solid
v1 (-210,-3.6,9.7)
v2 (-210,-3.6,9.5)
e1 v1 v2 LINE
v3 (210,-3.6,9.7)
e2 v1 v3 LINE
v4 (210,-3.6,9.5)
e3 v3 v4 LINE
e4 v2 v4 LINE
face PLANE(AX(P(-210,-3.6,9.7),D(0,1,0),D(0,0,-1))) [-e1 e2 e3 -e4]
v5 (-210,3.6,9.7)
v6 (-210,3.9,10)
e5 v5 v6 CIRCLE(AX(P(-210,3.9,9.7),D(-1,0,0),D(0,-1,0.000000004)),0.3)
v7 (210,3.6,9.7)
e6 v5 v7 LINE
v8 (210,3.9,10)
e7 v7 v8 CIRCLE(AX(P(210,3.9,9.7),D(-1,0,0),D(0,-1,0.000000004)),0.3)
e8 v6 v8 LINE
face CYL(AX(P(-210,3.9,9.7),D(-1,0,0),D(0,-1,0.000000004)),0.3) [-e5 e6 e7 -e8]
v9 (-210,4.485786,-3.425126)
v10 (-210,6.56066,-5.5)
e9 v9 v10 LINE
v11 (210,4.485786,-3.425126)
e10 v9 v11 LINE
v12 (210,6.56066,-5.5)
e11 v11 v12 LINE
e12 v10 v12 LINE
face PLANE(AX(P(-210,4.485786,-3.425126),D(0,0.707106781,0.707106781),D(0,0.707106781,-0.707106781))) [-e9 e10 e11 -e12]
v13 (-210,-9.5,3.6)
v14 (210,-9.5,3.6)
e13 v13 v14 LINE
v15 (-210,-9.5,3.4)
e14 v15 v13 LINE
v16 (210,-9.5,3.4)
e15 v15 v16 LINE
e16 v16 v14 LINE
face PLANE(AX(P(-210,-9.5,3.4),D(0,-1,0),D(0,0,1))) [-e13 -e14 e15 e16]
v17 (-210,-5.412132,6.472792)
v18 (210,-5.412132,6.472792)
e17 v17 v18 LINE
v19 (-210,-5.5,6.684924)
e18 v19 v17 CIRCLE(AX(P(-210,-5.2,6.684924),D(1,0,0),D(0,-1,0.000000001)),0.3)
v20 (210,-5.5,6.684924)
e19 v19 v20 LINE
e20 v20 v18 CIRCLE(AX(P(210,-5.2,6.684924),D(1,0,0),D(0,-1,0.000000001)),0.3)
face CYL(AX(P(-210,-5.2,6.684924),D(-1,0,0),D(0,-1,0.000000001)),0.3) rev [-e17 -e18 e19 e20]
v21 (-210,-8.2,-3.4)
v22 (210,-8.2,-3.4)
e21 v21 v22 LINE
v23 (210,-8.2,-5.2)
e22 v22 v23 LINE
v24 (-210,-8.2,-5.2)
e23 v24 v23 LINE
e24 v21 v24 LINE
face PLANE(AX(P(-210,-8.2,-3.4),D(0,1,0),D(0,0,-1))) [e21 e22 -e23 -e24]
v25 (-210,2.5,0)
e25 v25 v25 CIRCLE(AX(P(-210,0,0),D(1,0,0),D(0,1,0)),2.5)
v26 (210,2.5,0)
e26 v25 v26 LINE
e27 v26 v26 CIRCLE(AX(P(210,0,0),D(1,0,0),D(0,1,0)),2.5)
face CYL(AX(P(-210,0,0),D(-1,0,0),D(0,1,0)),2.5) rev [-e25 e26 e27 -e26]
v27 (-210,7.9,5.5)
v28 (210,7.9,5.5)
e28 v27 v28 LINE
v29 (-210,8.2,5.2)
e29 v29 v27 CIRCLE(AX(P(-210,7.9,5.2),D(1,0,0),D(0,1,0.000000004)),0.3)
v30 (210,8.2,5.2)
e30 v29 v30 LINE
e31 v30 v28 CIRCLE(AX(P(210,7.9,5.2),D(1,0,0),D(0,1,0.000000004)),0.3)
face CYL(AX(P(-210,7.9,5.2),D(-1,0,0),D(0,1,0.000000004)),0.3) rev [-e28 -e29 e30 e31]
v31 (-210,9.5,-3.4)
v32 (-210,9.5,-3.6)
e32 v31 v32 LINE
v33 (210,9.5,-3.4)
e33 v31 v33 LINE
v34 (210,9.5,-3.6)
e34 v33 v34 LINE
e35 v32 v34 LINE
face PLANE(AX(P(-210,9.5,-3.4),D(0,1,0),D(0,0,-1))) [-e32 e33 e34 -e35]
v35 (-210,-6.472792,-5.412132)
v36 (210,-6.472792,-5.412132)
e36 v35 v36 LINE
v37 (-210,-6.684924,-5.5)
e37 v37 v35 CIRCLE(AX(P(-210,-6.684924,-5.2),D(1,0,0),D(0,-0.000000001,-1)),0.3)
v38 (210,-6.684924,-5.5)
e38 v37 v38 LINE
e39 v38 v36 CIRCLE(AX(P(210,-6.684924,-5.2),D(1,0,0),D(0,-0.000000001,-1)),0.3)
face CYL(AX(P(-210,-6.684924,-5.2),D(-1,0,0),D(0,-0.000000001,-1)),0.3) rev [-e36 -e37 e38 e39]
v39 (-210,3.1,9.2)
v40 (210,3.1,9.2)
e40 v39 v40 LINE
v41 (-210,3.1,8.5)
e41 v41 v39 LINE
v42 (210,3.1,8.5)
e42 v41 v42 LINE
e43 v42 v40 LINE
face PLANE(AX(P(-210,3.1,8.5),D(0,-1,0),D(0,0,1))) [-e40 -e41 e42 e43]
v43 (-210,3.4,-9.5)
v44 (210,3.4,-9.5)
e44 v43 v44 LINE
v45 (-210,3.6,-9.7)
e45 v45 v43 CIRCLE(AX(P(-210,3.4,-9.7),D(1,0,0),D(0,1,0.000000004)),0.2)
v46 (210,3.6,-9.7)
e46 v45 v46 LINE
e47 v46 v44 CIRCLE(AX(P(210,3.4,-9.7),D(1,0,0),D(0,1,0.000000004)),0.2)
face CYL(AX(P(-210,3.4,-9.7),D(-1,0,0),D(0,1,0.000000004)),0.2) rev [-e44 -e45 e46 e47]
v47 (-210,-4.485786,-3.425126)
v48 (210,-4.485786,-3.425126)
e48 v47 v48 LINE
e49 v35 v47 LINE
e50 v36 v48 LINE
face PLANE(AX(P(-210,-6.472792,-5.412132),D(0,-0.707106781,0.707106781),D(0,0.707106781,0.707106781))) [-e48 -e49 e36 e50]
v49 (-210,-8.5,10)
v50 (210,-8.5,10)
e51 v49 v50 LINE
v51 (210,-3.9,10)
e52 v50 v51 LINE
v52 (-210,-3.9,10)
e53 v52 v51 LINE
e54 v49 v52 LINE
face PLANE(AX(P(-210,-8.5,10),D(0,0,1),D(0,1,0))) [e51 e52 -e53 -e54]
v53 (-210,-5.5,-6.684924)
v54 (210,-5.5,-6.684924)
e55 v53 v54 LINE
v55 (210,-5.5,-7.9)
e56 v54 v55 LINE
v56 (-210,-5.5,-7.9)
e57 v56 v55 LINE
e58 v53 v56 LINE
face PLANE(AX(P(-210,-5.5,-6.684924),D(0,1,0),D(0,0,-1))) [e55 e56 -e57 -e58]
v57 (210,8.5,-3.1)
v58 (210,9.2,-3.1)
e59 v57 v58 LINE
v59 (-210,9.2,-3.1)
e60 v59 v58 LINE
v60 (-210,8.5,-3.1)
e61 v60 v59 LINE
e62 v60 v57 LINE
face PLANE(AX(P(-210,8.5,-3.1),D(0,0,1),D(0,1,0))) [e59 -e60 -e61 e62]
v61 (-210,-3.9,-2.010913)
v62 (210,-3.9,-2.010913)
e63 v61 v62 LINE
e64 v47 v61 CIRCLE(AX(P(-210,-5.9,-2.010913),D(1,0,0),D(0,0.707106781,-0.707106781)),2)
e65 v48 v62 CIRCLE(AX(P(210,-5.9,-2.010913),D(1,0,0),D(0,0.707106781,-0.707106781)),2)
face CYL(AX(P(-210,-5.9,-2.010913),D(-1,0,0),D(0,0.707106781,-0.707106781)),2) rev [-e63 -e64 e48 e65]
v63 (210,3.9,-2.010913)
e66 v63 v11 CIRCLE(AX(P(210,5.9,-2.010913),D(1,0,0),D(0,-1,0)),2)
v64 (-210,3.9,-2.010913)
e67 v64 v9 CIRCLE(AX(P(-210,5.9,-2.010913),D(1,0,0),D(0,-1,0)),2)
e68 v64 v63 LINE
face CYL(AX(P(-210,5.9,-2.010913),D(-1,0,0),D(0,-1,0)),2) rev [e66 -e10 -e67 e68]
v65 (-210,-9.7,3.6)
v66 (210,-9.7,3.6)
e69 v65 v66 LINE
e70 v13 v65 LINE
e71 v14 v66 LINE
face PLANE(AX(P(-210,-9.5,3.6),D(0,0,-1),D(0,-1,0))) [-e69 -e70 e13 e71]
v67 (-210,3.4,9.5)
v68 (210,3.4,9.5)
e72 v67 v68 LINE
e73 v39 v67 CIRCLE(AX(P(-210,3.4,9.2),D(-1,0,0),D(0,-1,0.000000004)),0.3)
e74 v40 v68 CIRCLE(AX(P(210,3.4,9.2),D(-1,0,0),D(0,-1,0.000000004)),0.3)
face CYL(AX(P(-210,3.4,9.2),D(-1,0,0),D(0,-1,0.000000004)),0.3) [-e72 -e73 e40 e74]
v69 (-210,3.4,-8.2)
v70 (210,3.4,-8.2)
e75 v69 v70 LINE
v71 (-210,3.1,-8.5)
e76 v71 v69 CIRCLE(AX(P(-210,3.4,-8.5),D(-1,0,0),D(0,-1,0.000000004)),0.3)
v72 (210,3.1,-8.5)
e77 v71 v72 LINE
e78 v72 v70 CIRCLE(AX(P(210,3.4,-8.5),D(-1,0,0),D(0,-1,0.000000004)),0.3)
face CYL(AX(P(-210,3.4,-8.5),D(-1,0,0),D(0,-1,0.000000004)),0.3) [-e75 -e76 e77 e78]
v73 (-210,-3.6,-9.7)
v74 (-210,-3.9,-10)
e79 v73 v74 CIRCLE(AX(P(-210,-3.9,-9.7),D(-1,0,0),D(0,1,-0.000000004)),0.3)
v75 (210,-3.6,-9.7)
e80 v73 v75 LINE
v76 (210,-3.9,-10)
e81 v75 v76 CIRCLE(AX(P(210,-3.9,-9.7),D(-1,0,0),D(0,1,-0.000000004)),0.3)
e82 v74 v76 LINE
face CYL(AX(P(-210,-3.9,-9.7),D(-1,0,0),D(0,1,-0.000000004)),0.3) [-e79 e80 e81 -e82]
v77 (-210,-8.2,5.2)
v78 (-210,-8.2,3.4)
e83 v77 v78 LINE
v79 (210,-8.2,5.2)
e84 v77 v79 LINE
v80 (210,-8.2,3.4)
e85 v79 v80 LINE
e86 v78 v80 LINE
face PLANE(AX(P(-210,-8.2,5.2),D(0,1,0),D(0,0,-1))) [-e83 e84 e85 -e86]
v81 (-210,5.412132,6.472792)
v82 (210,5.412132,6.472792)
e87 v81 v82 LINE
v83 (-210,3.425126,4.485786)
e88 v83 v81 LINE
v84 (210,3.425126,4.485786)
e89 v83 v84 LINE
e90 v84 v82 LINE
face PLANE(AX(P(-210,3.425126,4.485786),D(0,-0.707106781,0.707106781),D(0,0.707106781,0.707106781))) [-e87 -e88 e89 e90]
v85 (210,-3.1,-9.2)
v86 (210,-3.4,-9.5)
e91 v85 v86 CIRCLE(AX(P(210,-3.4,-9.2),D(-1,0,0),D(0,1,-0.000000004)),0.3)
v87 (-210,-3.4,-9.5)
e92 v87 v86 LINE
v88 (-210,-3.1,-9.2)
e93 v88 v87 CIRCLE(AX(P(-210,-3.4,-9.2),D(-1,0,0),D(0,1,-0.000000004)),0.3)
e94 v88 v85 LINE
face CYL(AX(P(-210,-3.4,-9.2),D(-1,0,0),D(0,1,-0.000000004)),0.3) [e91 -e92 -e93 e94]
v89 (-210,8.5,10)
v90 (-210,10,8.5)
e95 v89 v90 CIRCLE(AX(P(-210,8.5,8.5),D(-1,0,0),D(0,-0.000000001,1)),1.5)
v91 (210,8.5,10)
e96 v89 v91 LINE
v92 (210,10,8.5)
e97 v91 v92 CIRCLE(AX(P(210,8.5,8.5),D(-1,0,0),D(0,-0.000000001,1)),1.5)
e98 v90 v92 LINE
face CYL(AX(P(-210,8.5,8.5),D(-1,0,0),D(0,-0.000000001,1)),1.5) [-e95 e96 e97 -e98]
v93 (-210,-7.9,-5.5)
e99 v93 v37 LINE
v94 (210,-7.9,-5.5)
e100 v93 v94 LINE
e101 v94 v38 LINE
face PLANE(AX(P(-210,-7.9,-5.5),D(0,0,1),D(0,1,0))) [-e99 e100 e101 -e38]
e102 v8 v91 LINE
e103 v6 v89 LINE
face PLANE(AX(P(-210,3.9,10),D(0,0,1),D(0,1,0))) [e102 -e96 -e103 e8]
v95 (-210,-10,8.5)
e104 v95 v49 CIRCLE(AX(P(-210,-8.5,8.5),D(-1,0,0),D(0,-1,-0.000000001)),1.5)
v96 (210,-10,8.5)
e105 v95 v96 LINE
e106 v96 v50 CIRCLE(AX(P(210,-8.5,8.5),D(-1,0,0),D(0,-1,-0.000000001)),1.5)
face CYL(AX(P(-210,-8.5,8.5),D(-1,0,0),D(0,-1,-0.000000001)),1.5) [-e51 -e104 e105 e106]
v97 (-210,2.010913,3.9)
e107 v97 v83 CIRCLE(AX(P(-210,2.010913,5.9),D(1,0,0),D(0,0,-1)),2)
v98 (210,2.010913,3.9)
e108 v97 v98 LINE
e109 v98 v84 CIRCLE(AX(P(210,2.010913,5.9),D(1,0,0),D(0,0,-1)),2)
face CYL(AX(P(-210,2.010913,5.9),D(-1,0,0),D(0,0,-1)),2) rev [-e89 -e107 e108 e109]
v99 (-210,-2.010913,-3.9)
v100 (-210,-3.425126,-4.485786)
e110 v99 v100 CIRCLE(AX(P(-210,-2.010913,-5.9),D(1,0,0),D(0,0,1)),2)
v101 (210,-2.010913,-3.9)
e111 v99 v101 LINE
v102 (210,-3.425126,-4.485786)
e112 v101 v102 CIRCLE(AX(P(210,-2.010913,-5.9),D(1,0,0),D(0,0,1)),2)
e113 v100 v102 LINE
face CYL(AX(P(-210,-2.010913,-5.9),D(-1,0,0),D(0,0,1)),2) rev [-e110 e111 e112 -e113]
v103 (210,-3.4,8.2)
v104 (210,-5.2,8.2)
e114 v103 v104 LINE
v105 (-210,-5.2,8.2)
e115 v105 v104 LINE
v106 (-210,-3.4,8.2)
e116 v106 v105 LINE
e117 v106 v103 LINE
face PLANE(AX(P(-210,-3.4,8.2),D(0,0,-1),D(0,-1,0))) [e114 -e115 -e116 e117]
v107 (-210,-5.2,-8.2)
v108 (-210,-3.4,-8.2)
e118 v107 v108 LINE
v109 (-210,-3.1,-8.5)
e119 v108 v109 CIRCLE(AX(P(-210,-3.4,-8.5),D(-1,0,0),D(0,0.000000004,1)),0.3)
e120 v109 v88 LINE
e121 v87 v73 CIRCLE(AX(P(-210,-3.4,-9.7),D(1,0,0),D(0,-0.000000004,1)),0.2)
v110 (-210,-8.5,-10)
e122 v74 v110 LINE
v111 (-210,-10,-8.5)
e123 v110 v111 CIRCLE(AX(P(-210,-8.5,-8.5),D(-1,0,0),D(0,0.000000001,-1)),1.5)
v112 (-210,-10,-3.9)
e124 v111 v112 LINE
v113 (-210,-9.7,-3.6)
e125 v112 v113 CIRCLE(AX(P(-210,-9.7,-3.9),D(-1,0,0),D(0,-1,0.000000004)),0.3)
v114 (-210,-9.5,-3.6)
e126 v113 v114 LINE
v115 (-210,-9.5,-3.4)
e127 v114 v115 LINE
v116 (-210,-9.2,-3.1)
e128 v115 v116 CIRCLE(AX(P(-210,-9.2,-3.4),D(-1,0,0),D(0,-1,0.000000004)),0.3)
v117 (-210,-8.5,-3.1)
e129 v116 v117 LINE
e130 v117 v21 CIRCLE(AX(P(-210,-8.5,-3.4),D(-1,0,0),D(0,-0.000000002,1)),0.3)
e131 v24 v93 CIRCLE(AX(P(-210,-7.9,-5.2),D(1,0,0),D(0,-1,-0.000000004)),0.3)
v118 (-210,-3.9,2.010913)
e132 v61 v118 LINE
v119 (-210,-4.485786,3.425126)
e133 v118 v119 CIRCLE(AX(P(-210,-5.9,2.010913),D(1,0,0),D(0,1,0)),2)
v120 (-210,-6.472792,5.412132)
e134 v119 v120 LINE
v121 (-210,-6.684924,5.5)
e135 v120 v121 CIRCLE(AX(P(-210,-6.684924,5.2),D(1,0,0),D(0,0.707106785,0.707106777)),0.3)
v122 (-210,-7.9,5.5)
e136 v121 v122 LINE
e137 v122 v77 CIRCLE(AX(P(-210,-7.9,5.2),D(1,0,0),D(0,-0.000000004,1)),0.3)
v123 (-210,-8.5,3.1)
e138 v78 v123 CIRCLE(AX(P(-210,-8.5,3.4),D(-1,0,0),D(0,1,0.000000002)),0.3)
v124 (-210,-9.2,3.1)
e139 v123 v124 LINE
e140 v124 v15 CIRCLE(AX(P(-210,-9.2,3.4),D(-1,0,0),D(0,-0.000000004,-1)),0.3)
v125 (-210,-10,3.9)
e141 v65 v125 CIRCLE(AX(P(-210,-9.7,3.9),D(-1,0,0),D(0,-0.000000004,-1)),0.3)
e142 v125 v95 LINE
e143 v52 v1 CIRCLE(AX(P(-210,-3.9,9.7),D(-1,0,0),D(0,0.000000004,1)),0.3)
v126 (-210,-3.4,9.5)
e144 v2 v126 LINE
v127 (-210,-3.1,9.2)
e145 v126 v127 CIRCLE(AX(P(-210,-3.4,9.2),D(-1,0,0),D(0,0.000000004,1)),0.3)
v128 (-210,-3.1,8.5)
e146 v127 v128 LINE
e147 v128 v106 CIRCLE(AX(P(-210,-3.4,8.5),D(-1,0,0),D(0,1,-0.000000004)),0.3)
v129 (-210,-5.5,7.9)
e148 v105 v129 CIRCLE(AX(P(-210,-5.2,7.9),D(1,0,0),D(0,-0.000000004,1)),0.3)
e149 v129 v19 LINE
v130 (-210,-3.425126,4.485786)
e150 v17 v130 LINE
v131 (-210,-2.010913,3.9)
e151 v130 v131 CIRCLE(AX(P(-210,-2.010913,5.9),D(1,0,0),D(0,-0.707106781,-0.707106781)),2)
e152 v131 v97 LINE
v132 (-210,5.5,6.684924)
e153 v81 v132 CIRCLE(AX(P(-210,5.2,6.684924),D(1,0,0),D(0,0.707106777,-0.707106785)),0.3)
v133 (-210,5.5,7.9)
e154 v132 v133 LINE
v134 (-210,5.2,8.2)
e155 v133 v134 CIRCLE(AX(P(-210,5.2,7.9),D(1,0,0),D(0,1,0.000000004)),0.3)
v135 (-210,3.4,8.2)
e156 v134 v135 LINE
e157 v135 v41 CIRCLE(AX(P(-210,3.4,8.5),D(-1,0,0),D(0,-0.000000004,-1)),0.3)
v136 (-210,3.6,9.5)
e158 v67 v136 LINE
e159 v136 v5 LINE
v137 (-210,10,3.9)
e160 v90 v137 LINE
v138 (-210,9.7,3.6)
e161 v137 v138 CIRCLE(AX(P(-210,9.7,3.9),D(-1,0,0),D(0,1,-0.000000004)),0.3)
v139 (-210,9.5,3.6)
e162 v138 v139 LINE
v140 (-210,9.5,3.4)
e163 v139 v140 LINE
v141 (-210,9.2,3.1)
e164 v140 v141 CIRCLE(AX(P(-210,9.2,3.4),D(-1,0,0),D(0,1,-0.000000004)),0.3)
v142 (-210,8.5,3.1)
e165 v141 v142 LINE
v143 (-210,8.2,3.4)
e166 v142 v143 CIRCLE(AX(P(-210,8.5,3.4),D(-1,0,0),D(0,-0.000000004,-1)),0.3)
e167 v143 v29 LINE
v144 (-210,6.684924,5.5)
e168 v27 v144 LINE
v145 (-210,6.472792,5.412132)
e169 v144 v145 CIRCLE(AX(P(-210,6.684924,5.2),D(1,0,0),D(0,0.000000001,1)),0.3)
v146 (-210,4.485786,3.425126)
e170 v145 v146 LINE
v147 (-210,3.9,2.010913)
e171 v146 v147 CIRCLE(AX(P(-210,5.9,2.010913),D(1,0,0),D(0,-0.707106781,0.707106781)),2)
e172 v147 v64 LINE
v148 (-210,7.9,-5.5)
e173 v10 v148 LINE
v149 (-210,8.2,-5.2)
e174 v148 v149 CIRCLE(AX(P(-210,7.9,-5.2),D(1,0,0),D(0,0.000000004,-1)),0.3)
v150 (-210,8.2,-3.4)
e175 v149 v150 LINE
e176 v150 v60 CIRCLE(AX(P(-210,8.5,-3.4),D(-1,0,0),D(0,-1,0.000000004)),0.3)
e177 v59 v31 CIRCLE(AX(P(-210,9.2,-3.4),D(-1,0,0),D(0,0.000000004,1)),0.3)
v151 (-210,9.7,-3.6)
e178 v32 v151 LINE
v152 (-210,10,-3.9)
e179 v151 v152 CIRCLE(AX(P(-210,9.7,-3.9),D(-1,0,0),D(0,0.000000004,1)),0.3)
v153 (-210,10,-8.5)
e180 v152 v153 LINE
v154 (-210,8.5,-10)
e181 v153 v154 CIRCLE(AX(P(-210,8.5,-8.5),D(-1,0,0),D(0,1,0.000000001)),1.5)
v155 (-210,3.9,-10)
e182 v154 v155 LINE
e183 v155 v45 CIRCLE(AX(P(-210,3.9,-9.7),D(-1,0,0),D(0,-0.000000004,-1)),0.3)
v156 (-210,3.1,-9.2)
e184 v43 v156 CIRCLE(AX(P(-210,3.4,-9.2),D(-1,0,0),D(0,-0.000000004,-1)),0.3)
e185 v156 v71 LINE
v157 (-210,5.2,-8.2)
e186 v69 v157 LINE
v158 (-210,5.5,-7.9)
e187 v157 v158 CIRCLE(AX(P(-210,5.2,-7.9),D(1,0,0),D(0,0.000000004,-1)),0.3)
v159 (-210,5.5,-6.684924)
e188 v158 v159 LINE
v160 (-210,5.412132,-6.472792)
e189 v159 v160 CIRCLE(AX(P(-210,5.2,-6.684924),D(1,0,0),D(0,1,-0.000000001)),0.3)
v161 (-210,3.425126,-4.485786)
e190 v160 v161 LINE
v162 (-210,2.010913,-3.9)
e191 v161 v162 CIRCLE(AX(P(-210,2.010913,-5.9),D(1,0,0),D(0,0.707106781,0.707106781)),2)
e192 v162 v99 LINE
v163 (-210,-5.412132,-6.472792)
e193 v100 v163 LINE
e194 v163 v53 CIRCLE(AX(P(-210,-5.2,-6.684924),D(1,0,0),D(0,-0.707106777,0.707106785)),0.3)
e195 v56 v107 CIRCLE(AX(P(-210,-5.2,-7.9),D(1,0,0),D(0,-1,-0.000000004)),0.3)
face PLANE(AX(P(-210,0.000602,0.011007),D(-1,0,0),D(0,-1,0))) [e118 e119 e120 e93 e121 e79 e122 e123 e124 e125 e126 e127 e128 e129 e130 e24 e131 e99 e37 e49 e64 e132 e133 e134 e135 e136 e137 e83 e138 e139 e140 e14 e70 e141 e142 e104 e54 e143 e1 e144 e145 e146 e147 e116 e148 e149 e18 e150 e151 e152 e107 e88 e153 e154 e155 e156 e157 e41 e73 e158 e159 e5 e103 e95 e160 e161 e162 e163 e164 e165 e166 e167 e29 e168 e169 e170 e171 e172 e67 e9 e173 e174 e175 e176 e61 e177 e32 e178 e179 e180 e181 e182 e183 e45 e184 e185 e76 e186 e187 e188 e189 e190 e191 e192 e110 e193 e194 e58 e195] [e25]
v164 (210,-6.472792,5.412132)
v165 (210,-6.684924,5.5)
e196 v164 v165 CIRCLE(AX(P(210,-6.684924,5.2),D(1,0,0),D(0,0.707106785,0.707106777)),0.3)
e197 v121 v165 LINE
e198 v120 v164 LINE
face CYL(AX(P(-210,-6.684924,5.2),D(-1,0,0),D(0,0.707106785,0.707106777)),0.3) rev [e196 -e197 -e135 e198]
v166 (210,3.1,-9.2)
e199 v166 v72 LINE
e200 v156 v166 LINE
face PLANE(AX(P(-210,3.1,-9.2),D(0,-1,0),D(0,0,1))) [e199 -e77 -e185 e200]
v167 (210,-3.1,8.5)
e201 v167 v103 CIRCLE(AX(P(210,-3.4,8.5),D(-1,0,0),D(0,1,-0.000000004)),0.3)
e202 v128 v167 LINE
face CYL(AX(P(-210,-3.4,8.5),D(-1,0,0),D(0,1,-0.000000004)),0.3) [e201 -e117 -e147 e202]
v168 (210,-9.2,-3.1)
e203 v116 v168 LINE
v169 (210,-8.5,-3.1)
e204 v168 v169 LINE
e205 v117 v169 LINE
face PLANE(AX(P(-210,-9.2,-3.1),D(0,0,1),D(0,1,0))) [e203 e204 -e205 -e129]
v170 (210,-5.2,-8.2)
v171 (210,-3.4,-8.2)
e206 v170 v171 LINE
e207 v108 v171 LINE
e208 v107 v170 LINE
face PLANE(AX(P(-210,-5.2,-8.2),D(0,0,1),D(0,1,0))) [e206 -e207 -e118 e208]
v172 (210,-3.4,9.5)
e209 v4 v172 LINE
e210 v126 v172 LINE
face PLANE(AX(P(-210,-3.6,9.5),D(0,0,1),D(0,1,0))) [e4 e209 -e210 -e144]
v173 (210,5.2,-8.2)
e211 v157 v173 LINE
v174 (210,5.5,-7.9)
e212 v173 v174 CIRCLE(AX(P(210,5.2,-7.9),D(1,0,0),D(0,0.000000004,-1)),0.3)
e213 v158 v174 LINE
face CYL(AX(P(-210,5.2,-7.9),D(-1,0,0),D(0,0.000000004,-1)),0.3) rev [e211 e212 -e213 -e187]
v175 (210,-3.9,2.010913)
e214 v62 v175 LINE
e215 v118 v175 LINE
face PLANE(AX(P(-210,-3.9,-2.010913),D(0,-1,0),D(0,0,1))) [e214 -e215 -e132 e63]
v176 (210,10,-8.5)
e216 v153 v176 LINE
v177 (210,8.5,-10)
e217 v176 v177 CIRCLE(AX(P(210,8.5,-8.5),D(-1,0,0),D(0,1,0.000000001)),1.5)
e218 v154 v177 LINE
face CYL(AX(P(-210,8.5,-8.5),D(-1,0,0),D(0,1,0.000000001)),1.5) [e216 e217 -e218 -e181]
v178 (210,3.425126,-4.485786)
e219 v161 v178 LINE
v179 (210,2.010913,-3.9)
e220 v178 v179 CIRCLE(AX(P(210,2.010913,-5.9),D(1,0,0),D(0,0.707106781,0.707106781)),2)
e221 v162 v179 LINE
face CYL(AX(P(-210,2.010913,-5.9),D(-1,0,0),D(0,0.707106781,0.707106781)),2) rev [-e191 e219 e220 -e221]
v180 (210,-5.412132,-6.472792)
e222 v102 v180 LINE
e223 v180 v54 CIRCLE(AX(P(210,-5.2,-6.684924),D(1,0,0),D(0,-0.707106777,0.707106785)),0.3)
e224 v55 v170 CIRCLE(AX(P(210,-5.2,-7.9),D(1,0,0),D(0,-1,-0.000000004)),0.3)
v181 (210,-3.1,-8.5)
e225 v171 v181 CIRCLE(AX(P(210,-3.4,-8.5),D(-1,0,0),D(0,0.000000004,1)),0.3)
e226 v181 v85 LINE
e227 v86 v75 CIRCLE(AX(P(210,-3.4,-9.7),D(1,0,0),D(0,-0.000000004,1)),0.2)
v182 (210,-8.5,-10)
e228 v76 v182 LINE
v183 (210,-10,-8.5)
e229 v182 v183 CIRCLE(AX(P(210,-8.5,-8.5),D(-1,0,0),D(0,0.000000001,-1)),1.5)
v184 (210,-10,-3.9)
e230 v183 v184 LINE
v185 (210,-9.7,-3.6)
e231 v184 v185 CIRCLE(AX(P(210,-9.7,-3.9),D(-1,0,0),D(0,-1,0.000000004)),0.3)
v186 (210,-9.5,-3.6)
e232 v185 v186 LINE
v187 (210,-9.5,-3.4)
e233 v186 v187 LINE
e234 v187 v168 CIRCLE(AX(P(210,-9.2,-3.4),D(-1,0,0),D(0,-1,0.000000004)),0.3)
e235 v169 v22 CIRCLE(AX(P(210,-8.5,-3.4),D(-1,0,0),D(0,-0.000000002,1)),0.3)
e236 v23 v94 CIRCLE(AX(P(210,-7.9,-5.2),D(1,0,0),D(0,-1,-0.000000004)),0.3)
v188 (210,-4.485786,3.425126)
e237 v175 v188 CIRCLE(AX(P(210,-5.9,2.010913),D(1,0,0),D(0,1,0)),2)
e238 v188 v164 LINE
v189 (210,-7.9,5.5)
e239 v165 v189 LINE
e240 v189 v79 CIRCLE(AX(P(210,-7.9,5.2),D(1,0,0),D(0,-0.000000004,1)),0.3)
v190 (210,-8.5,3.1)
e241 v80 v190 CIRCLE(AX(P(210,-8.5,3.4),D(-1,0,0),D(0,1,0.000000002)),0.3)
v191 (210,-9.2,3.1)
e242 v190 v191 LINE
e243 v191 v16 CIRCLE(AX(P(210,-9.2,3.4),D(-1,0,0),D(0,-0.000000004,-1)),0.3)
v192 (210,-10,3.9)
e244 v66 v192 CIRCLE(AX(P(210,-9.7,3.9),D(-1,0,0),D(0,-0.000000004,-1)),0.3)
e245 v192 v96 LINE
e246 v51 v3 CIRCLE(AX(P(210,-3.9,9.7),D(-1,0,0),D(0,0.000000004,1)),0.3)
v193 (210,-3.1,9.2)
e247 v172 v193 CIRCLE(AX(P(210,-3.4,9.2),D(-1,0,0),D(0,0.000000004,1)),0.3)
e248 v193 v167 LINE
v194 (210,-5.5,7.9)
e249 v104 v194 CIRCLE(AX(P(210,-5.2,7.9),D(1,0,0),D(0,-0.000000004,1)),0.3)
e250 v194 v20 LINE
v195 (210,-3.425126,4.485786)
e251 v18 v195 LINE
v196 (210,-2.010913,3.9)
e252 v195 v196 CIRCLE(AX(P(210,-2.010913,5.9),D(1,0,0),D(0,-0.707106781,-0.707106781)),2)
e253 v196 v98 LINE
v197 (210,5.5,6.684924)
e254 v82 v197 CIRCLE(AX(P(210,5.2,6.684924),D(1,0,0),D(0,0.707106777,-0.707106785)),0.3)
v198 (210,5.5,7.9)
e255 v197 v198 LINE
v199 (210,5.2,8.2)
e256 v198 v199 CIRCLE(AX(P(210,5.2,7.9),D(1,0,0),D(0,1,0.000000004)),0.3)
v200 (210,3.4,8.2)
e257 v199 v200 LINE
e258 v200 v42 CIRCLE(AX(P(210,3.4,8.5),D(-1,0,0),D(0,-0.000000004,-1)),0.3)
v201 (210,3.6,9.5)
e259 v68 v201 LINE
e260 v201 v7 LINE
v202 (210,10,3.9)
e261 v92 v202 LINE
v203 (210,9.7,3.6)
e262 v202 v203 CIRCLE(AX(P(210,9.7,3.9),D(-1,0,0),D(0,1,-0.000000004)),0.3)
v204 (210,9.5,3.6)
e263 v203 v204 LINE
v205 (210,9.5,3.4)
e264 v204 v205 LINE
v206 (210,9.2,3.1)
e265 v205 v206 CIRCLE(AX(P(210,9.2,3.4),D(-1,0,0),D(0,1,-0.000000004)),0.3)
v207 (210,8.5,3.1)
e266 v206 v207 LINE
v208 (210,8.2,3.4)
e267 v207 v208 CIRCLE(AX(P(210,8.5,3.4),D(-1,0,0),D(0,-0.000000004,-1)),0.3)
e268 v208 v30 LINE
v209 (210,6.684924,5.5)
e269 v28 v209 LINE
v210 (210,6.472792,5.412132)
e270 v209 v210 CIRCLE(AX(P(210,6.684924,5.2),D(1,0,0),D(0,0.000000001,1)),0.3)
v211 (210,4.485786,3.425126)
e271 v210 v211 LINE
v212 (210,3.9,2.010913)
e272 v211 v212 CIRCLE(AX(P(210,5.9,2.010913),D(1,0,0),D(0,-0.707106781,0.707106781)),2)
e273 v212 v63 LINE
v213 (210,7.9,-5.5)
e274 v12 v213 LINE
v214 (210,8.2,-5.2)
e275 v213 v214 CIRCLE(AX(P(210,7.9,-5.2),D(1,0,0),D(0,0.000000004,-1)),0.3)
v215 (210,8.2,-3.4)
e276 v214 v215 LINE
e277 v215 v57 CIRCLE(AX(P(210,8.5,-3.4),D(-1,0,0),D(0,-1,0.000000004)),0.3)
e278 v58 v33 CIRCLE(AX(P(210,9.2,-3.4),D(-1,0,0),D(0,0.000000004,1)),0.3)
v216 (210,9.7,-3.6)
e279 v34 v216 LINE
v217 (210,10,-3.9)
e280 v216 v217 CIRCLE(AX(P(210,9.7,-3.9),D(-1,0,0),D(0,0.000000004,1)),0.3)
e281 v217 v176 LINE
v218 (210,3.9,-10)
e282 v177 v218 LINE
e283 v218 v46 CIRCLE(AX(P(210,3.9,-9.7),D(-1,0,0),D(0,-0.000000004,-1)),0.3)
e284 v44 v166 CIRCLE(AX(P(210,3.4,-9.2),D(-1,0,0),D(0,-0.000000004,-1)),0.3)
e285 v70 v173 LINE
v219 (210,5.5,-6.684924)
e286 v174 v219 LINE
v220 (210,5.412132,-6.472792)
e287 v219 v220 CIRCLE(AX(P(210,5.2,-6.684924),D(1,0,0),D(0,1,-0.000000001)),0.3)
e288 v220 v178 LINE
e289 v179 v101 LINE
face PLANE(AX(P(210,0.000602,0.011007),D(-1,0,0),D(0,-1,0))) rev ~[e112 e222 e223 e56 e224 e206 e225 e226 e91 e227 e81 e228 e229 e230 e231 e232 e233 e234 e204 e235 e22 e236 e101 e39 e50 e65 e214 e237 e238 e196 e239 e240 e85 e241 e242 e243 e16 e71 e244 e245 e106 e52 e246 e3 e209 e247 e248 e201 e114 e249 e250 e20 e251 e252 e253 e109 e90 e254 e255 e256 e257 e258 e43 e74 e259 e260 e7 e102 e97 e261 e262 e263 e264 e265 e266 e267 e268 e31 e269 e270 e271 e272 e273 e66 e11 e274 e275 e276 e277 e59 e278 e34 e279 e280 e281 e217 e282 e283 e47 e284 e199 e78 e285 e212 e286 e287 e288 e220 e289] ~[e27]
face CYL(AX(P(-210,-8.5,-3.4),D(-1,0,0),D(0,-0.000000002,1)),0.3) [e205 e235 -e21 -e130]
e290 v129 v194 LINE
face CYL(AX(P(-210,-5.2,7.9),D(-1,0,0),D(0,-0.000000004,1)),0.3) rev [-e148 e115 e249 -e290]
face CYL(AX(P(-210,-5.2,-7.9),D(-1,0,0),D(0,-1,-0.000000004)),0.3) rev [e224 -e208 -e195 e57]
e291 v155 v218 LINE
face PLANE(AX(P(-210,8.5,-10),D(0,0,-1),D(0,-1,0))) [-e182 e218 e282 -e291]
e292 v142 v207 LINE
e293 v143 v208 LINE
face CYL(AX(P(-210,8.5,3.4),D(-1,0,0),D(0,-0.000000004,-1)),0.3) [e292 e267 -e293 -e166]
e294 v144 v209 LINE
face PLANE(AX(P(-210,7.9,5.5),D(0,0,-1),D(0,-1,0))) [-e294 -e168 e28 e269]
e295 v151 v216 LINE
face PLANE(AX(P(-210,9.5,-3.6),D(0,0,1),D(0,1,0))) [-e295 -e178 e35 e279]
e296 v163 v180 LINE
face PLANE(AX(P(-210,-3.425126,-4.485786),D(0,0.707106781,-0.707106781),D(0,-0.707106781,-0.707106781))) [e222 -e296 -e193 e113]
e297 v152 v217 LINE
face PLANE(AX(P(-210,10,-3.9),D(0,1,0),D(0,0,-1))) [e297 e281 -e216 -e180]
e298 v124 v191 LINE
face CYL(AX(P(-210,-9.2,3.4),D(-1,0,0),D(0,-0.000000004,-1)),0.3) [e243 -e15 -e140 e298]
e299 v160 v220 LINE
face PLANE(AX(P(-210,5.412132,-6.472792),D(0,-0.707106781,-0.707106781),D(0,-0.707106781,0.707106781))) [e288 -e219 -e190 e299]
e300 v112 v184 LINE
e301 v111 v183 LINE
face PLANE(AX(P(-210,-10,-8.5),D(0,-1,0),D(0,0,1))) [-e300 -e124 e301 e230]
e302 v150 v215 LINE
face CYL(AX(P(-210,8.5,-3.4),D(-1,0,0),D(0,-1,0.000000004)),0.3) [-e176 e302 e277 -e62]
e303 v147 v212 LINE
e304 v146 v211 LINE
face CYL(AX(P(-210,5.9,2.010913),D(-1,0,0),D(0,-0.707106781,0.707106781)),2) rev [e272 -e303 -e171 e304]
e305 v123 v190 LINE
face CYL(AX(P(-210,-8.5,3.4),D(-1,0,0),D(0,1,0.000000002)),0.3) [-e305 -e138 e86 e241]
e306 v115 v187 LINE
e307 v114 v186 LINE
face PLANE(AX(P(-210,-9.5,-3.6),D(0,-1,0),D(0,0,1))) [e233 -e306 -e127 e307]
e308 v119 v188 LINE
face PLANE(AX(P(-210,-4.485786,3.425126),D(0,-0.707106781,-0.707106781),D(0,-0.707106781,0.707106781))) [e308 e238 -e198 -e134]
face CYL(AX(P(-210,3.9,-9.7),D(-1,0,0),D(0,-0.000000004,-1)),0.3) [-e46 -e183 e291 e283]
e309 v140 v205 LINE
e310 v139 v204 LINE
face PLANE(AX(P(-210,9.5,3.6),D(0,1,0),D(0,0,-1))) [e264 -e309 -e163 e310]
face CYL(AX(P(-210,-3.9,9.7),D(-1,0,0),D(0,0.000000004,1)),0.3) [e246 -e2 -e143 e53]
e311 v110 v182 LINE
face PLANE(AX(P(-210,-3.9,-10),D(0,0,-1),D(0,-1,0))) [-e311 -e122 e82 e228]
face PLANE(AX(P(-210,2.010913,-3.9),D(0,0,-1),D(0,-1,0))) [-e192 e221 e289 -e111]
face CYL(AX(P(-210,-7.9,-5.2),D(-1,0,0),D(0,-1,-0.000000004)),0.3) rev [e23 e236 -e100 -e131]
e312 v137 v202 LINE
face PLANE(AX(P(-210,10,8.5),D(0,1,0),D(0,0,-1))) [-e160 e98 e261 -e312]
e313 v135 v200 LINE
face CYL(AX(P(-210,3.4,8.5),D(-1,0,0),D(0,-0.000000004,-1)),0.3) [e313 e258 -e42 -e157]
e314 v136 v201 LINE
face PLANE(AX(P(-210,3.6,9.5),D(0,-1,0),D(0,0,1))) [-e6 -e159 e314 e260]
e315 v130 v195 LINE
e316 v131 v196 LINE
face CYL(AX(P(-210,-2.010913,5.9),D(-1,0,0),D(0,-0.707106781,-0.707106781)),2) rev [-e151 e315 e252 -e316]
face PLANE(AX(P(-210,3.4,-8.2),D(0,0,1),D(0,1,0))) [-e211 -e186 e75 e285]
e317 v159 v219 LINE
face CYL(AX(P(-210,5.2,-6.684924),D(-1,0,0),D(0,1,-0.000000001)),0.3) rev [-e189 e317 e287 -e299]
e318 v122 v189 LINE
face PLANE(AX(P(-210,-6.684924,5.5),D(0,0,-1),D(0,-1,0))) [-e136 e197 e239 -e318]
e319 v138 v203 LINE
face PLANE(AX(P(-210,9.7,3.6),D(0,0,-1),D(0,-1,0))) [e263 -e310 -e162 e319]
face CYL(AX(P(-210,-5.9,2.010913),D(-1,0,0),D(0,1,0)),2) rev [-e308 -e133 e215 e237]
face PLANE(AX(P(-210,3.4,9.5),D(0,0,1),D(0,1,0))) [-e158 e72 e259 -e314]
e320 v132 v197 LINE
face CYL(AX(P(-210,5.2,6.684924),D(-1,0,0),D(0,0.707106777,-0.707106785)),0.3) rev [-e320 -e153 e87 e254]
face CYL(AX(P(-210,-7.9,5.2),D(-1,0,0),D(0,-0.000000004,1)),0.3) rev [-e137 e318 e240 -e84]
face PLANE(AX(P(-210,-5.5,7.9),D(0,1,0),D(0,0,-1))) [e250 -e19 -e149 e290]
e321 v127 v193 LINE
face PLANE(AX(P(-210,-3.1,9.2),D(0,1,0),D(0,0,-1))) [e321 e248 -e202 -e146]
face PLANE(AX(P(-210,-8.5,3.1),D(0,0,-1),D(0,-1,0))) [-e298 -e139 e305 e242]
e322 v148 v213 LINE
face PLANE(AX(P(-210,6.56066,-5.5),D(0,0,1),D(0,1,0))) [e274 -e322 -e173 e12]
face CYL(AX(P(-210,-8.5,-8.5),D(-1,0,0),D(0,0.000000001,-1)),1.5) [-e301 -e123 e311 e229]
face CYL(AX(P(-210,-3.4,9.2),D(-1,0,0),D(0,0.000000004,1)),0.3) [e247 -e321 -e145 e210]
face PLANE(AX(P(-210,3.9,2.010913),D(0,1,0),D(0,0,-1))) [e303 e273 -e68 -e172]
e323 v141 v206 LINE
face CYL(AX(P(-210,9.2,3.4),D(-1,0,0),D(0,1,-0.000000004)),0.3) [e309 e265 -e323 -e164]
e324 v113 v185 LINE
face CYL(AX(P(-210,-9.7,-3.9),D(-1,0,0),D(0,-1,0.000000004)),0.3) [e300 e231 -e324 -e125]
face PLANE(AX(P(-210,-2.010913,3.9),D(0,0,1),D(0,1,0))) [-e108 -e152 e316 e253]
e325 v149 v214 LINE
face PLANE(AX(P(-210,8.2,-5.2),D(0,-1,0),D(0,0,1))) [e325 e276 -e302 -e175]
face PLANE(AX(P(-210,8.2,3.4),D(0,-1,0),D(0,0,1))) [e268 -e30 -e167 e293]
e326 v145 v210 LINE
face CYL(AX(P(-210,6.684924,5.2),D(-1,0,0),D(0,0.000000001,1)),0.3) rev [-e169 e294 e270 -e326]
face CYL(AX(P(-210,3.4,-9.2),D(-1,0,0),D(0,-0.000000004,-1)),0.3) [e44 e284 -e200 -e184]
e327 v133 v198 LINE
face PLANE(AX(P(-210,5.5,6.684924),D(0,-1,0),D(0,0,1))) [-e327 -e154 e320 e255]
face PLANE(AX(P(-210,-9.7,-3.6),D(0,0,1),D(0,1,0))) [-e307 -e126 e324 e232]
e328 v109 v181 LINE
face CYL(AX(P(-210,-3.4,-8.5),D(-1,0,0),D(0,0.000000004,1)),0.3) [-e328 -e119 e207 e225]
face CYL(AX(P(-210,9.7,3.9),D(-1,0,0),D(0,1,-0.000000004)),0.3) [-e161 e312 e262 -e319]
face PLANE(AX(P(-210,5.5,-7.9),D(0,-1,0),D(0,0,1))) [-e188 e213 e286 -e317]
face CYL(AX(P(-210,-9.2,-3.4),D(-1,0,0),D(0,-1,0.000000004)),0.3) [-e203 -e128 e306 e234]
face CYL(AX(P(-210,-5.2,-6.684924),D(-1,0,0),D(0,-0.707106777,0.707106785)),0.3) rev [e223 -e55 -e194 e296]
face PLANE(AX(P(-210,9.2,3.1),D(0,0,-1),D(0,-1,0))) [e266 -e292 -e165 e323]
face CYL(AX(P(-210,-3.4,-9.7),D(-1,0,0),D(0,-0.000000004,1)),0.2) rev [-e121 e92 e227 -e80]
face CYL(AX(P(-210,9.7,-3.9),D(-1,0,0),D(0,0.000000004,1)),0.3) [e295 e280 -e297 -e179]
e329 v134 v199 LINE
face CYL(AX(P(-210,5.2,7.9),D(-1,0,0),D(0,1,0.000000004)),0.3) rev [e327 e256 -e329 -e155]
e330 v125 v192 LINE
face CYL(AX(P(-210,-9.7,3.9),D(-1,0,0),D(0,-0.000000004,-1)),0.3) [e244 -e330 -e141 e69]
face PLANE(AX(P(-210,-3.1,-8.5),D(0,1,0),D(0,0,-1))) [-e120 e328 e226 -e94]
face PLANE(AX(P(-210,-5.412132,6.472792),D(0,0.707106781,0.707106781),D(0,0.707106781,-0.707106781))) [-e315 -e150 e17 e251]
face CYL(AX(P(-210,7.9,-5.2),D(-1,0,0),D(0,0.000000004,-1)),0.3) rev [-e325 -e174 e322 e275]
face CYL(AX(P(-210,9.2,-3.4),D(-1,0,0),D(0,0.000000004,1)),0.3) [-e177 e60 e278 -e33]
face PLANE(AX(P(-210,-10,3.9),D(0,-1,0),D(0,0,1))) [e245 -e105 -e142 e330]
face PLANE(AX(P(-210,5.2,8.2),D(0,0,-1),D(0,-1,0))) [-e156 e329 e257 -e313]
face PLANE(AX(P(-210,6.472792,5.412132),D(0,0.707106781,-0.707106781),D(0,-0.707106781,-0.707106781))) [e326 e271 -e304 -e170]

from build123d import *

# Parameters (mm, degrees)
SKETCH_11_R         = 2.5
MEMBER_2020_1_DEPTH = 420


with BuildPart() as part:
    # 草图11 → Member 2020_1 (new body)
    with BuildSketch(Plane.YZ.offset(-210)):
        with BuildLine():
            Line((3.9, 0), (3.9, -2.010912703))
            ThreePointArc((3.9, -2.010912703), (4.052240935, -2.776279568), (4.485786438, -3.425126266))
            Line((4.485786438, -3.425126266), (6.560660172, -5.5))
            Line((6.560660172, -5.5), (7.9, -5.5))
            ThreePointArc((7.9, -5.5), (8.112132034, -5.412132034), (8.2, -5.2))
            Line((8.2, -5.2), (8.2, -3.4))
            ThreePointArc((8.2, -3.4), (8.287867966, -3.187867966), (8.5, -3.1))
            Line((8.5, -3.1), (9.2, -3.1))
            ThreePointArc((9.2, -3.1), (9.412132034, -3.187867966), (9.5, -3.4))
            Line((9.5, -3.4), (9.5, -3.6))
            Line((9.5, -3.6), (9.7, -3.6))
            ThreePointArc((9.7, -3.6), (9.912132034, -3.687867966), (10, -3.9))
            Line((10, -3.9), (10, -8.5))
            ThreePointArc((10, -8.5), (9.560660172, -9.560660172), (8.5, -10))
            Line((8.5, -10), (3.9, -10))
            ThreePointArc((3.9, -10), (3.687867966, -9.912132034), (3.6, -9.7))
            ThreePointArc((3.6, -9.7), (3.541421356, -9.558578644), (3.4, -9.5))
            ThreePointArc((3.4, -9.5), (3.187867966, -9.412132034), (3.1, -9.2))
            Line((3.1, -9.2), (3.1, -8.5))
            ThreePointArc((3.1, -8.5), (3.187867966, -8.287867966), (3.4, -8.2))
            Line((3.4, -8.2), (5.2, -8.2))
            ThreePointArc((5.2, -8.2), (5.412132034, -8.112132034), (5.5, -7.9))
            Line((5.5, -7.9), (5.5, -6.68492424))
            ThreePointArc((5.5, -6.68492424), (5.47716386, -6.570119211), (5.412132034, -6.472792206))
            Line((5.412132034, -6.472792206), (3.425126266, -4.485786438))
            ThreePointArc((3.425126266, -4.485786438), (2.776279568, -4.052240935), (2.010912703, -3.9))
            Line((2.010912703, -3.9), (0, -3.9))
            Line((0, -3.9), (-2.010912703, -3.9))
            ThreePointArc((-2.010912703, -3.9), (-2.776279568, -4.052240935), (-3.425126266, -4.485786438))
            Line((-3.425126266, -4.485786438), (-5.412132034, -6.472792206))
            ThreePointArc((-5.412132034, -6.472792206), (-5.47716386, -6.570119211), (-5.5, -6.68492424))
            Line((-5.5, -6.68492424), (-5.5, -7.9))
            ThreePointArc((-5.5, -7.9), (-5.412132034, -8.112132034), (-5.2, -8.2))
            Line((-5.2, -8.2), (-3.4, -8.2))
            ThreePointArc((-3.4, -8.2), (-3.187867966, -8.287867966), (-3.1, -8.5))
            Line((-3.1, -8.5), (-3.1, -9.2))
            ThreePointArc((-3.1, -9.2), (-3.187867966, -9.412132034), (-3.4, -9.5))
            ThreePointArc((-3.4, -9.5), (-3.541421356, -9.558578644), (-3.6, -9.7))
            ThreePointArc((-3.6, -9.7), (-3.687867966, -9.912132034), (-3.9, -10))
            Line((-3.9, -10), (-8.5, -10))
            ThreePointArc((-8.5, -10), (-9.560660172, -9.560660172), (-10, -8.5))
            Line((-10, -8.5), (-10, -3.9))
            ThreePointArc((-10, -3.9), (-9.912132034, -3.687867966), (-9.7, -3.6))
            Line((-9.7, -3.6), (-9.5, -3.6))
            Line((-9.5, -3.6), (-9.5, -3.4))
            ThreePointArc((-9.5, -3.4), (-9.412132034, -3.187867966), (-9.2, -3.1))
            Line((-9.2, -3.1), (-8.5, -3.1))
            ThreePointArc((-8.5, -3.1), (-8.287867965, -3.187867966), (-8.2, -3.4))
            Line((-8.2, -3.4), (-8.2, -5.2))
            ThreePointArc((-8.2, -5.2), (-8.112132034, -5.412132034), (-7.9, -5.5))
            Line((-7.9, -5.5), (-6.68492424, -5.5))
            ThreePointArc((-6.68492424, -5.5), (-6.570119211, -5.47716386), (-6.472792206, -5.412132034))
            Line((-6.472792206, -5.412132034), (-4.485786438, -3.425126266))
            ThreePointArc((-4.485786438, -3.425126266), (-4.052240935, -2.776279568), (-3.9, -2.010912703))
            Line((-3.9, -2.010912703), (-3.9, 0))
            Line((-3.9, 0), (-3.9, 2.010912703))
            ThreePointArc((-3.9, 2.010912703), (-4.052240935, 2.776279568), (-4.485786438, 3.425126266))
            Line((-4.485786438, 3.425126266), (-6.472792206, 5.412132034))
            ThreePointArc((-6.472792206, 5.412132034), (-6.570119211, 5.47716386), (-6.68492424, 5.5))
            Line((-6.68492424, 5.5), (-7.9, 5.5))
            ThreePointArc((-7.9, 5.5), (-8.112132034, 5.412132034), (-8.2, 5.2))
            Line((-8.2, 5.2), (-8.2, 3.4))
            ThreePointArc((-8.2, 3.4), (-8.287867965, 3.187867966), (-8.5, 3.1))
            Line((-8.5, 3.1), (-9.2, 3.1))
            ThreePointArc((-9.2, 3.1), (-9.412132034, 3.187867966), (-9.5, 3.4))
            Line((-9.5, 3.4), (-9.5, 3.6))
            Line((-9.5, 3.6), (-9.7, 3.6))
            ThreePointArc((-9.7, 3.6), (-9.912132034, 3.687867966), (-10, 3.9))
            Line((-10, 3.9), (-10, 8.5))
            ThreePointArc((-10, 8.5), (-9.560660172, 9.560660172), (-8.5, 10))
            Line((-8.5, 10), (-3.9, 10))
            ThreePointArc((-3.9, 10), (-3.687867966, 9.912132034), (-3.6, 9.7))
            Line((-3.6, 9.7), (-3.6, 9.5))
            Line((-3.6, 9.5), (-3.4, 9.5))
            ThreePointArc((-3.4, 9.5), (-3.187867966, 9.412132034), (-3.1, 9.2))
            Line((-3.1, 9.2), (-3.1, 8.5))
            ThreePointArc((-3.1, 8.5), (-3.187867966, 8.287867966), (-3.4, 8.2))
            Line((-3.4, 8.2), (-5.2, 8.2))
            ThreePointArc((-5.2, 8.2), (-5.412132034, 8.112132034), (-5.5, 7.9))
            Line((-5.5, 7.9), (-5.5, 6.68492424))
            ThreePointArc((-5.5, 6.68492424), (-5.47716386, 6.570119211), (-5.412132034, 6.472792206))
            Line((-5.412132034, 6.472792206), (-3.425126266, 4.485786438))
            ThreePointArc((-3.425126266, 4.485786438), (-2.776279568, 4.052240935), (-2.010912703, 3.9))
            Line((-2.010912703, 3.9), (0, 3.9))
            Line((0, 3.9), (2.010912703, 3.9))
            ThreePointArc((2.010912703, 3.9), (2.776279568, 4.052240935), (3.425126266, 4.485786438))
            Line((3.425126266, 4.485786438), (5.412132034, 6.472792206))
            ThreePointArc((5.412132034, 6.472792206), (5.47716386, 6.570119211), (5.5, 6.68492424))
            Line((5.5, 6.68492424), (5.5, 7.9))
            ThreePointArc((5.5, 7.9), (5.412132034, 8.112132034), (5.2, 8.2))
            Line((5.2, 8.2), (3.4, 8.2))
            ThreePointArc((3.4, 8.2), (3.187867966, 8.287867966), (3.1, 8.5))
            Line((3.1, 8.5), (3.1, 9.2))
            ThreePointArc((3.1, 9.2), (3.187867966, 9.412132034), (3.4, 9.5))
            Line((3.4, 9.5), (3.6, 9.5))
            Line((3.6, 9.5), (3.6, 9.7))
            ThreePointArc((3.6, 9.7), (3.687867966, 9.912132034), (3.9, 10))
            Line((3.9, 10), (8.5, 10))
            ThreePointArc((8.5, 10), (9.560660172, 9.560660172), (10, 8.5))
            Line((10, 8.5), (10, 3.9))
            ThreePointArc((10, 3.9), (9.912132034, 3.687867966), (9.7, 3.6))
            Line((9.7, 3.6), (9.5, 3.6))
            Line((9.5, 3.6), (9.5, 3.4))
            ThreePointArc((9.5, 3.4), (9.412132034, 3.187867966), (9.2, 3.1))
            Line((9.2, 3.1), (8.5, 3.1))
            ThreePointArc((8.5, 3.1), (8.287867966, 3.187867966), (8.2, 3.4))
            Line((8.2, 3.4), (8.2, 5.2))
            ThreePointArc((8.2, 5.2), (8.112132034, 5.412132034), (7.9, 5.5))
            Line((7.9, 5.5), (6.68492424, 5.5))
            ThreePointArc((6.68492424, 5.5), (6.570119211, 5.47716386), (6.472792206, 5.412132034))
            Line((6.472792206, 5.412132034), (4.485786438, 3.425126266))
            ThreePointArc((4.485786438, 3.425126266), (4.052240935, 2.776279568), (3.9, 2.010912703))
            Line((3.9, 2.010912703), (3.9, 0))
        make_face()
        Circle(SKETCH_11_R, mode=Mode.SUBTRACT)
    extrude(amount=MEMBER_2020_1_DEPTH)


solid = part.part
